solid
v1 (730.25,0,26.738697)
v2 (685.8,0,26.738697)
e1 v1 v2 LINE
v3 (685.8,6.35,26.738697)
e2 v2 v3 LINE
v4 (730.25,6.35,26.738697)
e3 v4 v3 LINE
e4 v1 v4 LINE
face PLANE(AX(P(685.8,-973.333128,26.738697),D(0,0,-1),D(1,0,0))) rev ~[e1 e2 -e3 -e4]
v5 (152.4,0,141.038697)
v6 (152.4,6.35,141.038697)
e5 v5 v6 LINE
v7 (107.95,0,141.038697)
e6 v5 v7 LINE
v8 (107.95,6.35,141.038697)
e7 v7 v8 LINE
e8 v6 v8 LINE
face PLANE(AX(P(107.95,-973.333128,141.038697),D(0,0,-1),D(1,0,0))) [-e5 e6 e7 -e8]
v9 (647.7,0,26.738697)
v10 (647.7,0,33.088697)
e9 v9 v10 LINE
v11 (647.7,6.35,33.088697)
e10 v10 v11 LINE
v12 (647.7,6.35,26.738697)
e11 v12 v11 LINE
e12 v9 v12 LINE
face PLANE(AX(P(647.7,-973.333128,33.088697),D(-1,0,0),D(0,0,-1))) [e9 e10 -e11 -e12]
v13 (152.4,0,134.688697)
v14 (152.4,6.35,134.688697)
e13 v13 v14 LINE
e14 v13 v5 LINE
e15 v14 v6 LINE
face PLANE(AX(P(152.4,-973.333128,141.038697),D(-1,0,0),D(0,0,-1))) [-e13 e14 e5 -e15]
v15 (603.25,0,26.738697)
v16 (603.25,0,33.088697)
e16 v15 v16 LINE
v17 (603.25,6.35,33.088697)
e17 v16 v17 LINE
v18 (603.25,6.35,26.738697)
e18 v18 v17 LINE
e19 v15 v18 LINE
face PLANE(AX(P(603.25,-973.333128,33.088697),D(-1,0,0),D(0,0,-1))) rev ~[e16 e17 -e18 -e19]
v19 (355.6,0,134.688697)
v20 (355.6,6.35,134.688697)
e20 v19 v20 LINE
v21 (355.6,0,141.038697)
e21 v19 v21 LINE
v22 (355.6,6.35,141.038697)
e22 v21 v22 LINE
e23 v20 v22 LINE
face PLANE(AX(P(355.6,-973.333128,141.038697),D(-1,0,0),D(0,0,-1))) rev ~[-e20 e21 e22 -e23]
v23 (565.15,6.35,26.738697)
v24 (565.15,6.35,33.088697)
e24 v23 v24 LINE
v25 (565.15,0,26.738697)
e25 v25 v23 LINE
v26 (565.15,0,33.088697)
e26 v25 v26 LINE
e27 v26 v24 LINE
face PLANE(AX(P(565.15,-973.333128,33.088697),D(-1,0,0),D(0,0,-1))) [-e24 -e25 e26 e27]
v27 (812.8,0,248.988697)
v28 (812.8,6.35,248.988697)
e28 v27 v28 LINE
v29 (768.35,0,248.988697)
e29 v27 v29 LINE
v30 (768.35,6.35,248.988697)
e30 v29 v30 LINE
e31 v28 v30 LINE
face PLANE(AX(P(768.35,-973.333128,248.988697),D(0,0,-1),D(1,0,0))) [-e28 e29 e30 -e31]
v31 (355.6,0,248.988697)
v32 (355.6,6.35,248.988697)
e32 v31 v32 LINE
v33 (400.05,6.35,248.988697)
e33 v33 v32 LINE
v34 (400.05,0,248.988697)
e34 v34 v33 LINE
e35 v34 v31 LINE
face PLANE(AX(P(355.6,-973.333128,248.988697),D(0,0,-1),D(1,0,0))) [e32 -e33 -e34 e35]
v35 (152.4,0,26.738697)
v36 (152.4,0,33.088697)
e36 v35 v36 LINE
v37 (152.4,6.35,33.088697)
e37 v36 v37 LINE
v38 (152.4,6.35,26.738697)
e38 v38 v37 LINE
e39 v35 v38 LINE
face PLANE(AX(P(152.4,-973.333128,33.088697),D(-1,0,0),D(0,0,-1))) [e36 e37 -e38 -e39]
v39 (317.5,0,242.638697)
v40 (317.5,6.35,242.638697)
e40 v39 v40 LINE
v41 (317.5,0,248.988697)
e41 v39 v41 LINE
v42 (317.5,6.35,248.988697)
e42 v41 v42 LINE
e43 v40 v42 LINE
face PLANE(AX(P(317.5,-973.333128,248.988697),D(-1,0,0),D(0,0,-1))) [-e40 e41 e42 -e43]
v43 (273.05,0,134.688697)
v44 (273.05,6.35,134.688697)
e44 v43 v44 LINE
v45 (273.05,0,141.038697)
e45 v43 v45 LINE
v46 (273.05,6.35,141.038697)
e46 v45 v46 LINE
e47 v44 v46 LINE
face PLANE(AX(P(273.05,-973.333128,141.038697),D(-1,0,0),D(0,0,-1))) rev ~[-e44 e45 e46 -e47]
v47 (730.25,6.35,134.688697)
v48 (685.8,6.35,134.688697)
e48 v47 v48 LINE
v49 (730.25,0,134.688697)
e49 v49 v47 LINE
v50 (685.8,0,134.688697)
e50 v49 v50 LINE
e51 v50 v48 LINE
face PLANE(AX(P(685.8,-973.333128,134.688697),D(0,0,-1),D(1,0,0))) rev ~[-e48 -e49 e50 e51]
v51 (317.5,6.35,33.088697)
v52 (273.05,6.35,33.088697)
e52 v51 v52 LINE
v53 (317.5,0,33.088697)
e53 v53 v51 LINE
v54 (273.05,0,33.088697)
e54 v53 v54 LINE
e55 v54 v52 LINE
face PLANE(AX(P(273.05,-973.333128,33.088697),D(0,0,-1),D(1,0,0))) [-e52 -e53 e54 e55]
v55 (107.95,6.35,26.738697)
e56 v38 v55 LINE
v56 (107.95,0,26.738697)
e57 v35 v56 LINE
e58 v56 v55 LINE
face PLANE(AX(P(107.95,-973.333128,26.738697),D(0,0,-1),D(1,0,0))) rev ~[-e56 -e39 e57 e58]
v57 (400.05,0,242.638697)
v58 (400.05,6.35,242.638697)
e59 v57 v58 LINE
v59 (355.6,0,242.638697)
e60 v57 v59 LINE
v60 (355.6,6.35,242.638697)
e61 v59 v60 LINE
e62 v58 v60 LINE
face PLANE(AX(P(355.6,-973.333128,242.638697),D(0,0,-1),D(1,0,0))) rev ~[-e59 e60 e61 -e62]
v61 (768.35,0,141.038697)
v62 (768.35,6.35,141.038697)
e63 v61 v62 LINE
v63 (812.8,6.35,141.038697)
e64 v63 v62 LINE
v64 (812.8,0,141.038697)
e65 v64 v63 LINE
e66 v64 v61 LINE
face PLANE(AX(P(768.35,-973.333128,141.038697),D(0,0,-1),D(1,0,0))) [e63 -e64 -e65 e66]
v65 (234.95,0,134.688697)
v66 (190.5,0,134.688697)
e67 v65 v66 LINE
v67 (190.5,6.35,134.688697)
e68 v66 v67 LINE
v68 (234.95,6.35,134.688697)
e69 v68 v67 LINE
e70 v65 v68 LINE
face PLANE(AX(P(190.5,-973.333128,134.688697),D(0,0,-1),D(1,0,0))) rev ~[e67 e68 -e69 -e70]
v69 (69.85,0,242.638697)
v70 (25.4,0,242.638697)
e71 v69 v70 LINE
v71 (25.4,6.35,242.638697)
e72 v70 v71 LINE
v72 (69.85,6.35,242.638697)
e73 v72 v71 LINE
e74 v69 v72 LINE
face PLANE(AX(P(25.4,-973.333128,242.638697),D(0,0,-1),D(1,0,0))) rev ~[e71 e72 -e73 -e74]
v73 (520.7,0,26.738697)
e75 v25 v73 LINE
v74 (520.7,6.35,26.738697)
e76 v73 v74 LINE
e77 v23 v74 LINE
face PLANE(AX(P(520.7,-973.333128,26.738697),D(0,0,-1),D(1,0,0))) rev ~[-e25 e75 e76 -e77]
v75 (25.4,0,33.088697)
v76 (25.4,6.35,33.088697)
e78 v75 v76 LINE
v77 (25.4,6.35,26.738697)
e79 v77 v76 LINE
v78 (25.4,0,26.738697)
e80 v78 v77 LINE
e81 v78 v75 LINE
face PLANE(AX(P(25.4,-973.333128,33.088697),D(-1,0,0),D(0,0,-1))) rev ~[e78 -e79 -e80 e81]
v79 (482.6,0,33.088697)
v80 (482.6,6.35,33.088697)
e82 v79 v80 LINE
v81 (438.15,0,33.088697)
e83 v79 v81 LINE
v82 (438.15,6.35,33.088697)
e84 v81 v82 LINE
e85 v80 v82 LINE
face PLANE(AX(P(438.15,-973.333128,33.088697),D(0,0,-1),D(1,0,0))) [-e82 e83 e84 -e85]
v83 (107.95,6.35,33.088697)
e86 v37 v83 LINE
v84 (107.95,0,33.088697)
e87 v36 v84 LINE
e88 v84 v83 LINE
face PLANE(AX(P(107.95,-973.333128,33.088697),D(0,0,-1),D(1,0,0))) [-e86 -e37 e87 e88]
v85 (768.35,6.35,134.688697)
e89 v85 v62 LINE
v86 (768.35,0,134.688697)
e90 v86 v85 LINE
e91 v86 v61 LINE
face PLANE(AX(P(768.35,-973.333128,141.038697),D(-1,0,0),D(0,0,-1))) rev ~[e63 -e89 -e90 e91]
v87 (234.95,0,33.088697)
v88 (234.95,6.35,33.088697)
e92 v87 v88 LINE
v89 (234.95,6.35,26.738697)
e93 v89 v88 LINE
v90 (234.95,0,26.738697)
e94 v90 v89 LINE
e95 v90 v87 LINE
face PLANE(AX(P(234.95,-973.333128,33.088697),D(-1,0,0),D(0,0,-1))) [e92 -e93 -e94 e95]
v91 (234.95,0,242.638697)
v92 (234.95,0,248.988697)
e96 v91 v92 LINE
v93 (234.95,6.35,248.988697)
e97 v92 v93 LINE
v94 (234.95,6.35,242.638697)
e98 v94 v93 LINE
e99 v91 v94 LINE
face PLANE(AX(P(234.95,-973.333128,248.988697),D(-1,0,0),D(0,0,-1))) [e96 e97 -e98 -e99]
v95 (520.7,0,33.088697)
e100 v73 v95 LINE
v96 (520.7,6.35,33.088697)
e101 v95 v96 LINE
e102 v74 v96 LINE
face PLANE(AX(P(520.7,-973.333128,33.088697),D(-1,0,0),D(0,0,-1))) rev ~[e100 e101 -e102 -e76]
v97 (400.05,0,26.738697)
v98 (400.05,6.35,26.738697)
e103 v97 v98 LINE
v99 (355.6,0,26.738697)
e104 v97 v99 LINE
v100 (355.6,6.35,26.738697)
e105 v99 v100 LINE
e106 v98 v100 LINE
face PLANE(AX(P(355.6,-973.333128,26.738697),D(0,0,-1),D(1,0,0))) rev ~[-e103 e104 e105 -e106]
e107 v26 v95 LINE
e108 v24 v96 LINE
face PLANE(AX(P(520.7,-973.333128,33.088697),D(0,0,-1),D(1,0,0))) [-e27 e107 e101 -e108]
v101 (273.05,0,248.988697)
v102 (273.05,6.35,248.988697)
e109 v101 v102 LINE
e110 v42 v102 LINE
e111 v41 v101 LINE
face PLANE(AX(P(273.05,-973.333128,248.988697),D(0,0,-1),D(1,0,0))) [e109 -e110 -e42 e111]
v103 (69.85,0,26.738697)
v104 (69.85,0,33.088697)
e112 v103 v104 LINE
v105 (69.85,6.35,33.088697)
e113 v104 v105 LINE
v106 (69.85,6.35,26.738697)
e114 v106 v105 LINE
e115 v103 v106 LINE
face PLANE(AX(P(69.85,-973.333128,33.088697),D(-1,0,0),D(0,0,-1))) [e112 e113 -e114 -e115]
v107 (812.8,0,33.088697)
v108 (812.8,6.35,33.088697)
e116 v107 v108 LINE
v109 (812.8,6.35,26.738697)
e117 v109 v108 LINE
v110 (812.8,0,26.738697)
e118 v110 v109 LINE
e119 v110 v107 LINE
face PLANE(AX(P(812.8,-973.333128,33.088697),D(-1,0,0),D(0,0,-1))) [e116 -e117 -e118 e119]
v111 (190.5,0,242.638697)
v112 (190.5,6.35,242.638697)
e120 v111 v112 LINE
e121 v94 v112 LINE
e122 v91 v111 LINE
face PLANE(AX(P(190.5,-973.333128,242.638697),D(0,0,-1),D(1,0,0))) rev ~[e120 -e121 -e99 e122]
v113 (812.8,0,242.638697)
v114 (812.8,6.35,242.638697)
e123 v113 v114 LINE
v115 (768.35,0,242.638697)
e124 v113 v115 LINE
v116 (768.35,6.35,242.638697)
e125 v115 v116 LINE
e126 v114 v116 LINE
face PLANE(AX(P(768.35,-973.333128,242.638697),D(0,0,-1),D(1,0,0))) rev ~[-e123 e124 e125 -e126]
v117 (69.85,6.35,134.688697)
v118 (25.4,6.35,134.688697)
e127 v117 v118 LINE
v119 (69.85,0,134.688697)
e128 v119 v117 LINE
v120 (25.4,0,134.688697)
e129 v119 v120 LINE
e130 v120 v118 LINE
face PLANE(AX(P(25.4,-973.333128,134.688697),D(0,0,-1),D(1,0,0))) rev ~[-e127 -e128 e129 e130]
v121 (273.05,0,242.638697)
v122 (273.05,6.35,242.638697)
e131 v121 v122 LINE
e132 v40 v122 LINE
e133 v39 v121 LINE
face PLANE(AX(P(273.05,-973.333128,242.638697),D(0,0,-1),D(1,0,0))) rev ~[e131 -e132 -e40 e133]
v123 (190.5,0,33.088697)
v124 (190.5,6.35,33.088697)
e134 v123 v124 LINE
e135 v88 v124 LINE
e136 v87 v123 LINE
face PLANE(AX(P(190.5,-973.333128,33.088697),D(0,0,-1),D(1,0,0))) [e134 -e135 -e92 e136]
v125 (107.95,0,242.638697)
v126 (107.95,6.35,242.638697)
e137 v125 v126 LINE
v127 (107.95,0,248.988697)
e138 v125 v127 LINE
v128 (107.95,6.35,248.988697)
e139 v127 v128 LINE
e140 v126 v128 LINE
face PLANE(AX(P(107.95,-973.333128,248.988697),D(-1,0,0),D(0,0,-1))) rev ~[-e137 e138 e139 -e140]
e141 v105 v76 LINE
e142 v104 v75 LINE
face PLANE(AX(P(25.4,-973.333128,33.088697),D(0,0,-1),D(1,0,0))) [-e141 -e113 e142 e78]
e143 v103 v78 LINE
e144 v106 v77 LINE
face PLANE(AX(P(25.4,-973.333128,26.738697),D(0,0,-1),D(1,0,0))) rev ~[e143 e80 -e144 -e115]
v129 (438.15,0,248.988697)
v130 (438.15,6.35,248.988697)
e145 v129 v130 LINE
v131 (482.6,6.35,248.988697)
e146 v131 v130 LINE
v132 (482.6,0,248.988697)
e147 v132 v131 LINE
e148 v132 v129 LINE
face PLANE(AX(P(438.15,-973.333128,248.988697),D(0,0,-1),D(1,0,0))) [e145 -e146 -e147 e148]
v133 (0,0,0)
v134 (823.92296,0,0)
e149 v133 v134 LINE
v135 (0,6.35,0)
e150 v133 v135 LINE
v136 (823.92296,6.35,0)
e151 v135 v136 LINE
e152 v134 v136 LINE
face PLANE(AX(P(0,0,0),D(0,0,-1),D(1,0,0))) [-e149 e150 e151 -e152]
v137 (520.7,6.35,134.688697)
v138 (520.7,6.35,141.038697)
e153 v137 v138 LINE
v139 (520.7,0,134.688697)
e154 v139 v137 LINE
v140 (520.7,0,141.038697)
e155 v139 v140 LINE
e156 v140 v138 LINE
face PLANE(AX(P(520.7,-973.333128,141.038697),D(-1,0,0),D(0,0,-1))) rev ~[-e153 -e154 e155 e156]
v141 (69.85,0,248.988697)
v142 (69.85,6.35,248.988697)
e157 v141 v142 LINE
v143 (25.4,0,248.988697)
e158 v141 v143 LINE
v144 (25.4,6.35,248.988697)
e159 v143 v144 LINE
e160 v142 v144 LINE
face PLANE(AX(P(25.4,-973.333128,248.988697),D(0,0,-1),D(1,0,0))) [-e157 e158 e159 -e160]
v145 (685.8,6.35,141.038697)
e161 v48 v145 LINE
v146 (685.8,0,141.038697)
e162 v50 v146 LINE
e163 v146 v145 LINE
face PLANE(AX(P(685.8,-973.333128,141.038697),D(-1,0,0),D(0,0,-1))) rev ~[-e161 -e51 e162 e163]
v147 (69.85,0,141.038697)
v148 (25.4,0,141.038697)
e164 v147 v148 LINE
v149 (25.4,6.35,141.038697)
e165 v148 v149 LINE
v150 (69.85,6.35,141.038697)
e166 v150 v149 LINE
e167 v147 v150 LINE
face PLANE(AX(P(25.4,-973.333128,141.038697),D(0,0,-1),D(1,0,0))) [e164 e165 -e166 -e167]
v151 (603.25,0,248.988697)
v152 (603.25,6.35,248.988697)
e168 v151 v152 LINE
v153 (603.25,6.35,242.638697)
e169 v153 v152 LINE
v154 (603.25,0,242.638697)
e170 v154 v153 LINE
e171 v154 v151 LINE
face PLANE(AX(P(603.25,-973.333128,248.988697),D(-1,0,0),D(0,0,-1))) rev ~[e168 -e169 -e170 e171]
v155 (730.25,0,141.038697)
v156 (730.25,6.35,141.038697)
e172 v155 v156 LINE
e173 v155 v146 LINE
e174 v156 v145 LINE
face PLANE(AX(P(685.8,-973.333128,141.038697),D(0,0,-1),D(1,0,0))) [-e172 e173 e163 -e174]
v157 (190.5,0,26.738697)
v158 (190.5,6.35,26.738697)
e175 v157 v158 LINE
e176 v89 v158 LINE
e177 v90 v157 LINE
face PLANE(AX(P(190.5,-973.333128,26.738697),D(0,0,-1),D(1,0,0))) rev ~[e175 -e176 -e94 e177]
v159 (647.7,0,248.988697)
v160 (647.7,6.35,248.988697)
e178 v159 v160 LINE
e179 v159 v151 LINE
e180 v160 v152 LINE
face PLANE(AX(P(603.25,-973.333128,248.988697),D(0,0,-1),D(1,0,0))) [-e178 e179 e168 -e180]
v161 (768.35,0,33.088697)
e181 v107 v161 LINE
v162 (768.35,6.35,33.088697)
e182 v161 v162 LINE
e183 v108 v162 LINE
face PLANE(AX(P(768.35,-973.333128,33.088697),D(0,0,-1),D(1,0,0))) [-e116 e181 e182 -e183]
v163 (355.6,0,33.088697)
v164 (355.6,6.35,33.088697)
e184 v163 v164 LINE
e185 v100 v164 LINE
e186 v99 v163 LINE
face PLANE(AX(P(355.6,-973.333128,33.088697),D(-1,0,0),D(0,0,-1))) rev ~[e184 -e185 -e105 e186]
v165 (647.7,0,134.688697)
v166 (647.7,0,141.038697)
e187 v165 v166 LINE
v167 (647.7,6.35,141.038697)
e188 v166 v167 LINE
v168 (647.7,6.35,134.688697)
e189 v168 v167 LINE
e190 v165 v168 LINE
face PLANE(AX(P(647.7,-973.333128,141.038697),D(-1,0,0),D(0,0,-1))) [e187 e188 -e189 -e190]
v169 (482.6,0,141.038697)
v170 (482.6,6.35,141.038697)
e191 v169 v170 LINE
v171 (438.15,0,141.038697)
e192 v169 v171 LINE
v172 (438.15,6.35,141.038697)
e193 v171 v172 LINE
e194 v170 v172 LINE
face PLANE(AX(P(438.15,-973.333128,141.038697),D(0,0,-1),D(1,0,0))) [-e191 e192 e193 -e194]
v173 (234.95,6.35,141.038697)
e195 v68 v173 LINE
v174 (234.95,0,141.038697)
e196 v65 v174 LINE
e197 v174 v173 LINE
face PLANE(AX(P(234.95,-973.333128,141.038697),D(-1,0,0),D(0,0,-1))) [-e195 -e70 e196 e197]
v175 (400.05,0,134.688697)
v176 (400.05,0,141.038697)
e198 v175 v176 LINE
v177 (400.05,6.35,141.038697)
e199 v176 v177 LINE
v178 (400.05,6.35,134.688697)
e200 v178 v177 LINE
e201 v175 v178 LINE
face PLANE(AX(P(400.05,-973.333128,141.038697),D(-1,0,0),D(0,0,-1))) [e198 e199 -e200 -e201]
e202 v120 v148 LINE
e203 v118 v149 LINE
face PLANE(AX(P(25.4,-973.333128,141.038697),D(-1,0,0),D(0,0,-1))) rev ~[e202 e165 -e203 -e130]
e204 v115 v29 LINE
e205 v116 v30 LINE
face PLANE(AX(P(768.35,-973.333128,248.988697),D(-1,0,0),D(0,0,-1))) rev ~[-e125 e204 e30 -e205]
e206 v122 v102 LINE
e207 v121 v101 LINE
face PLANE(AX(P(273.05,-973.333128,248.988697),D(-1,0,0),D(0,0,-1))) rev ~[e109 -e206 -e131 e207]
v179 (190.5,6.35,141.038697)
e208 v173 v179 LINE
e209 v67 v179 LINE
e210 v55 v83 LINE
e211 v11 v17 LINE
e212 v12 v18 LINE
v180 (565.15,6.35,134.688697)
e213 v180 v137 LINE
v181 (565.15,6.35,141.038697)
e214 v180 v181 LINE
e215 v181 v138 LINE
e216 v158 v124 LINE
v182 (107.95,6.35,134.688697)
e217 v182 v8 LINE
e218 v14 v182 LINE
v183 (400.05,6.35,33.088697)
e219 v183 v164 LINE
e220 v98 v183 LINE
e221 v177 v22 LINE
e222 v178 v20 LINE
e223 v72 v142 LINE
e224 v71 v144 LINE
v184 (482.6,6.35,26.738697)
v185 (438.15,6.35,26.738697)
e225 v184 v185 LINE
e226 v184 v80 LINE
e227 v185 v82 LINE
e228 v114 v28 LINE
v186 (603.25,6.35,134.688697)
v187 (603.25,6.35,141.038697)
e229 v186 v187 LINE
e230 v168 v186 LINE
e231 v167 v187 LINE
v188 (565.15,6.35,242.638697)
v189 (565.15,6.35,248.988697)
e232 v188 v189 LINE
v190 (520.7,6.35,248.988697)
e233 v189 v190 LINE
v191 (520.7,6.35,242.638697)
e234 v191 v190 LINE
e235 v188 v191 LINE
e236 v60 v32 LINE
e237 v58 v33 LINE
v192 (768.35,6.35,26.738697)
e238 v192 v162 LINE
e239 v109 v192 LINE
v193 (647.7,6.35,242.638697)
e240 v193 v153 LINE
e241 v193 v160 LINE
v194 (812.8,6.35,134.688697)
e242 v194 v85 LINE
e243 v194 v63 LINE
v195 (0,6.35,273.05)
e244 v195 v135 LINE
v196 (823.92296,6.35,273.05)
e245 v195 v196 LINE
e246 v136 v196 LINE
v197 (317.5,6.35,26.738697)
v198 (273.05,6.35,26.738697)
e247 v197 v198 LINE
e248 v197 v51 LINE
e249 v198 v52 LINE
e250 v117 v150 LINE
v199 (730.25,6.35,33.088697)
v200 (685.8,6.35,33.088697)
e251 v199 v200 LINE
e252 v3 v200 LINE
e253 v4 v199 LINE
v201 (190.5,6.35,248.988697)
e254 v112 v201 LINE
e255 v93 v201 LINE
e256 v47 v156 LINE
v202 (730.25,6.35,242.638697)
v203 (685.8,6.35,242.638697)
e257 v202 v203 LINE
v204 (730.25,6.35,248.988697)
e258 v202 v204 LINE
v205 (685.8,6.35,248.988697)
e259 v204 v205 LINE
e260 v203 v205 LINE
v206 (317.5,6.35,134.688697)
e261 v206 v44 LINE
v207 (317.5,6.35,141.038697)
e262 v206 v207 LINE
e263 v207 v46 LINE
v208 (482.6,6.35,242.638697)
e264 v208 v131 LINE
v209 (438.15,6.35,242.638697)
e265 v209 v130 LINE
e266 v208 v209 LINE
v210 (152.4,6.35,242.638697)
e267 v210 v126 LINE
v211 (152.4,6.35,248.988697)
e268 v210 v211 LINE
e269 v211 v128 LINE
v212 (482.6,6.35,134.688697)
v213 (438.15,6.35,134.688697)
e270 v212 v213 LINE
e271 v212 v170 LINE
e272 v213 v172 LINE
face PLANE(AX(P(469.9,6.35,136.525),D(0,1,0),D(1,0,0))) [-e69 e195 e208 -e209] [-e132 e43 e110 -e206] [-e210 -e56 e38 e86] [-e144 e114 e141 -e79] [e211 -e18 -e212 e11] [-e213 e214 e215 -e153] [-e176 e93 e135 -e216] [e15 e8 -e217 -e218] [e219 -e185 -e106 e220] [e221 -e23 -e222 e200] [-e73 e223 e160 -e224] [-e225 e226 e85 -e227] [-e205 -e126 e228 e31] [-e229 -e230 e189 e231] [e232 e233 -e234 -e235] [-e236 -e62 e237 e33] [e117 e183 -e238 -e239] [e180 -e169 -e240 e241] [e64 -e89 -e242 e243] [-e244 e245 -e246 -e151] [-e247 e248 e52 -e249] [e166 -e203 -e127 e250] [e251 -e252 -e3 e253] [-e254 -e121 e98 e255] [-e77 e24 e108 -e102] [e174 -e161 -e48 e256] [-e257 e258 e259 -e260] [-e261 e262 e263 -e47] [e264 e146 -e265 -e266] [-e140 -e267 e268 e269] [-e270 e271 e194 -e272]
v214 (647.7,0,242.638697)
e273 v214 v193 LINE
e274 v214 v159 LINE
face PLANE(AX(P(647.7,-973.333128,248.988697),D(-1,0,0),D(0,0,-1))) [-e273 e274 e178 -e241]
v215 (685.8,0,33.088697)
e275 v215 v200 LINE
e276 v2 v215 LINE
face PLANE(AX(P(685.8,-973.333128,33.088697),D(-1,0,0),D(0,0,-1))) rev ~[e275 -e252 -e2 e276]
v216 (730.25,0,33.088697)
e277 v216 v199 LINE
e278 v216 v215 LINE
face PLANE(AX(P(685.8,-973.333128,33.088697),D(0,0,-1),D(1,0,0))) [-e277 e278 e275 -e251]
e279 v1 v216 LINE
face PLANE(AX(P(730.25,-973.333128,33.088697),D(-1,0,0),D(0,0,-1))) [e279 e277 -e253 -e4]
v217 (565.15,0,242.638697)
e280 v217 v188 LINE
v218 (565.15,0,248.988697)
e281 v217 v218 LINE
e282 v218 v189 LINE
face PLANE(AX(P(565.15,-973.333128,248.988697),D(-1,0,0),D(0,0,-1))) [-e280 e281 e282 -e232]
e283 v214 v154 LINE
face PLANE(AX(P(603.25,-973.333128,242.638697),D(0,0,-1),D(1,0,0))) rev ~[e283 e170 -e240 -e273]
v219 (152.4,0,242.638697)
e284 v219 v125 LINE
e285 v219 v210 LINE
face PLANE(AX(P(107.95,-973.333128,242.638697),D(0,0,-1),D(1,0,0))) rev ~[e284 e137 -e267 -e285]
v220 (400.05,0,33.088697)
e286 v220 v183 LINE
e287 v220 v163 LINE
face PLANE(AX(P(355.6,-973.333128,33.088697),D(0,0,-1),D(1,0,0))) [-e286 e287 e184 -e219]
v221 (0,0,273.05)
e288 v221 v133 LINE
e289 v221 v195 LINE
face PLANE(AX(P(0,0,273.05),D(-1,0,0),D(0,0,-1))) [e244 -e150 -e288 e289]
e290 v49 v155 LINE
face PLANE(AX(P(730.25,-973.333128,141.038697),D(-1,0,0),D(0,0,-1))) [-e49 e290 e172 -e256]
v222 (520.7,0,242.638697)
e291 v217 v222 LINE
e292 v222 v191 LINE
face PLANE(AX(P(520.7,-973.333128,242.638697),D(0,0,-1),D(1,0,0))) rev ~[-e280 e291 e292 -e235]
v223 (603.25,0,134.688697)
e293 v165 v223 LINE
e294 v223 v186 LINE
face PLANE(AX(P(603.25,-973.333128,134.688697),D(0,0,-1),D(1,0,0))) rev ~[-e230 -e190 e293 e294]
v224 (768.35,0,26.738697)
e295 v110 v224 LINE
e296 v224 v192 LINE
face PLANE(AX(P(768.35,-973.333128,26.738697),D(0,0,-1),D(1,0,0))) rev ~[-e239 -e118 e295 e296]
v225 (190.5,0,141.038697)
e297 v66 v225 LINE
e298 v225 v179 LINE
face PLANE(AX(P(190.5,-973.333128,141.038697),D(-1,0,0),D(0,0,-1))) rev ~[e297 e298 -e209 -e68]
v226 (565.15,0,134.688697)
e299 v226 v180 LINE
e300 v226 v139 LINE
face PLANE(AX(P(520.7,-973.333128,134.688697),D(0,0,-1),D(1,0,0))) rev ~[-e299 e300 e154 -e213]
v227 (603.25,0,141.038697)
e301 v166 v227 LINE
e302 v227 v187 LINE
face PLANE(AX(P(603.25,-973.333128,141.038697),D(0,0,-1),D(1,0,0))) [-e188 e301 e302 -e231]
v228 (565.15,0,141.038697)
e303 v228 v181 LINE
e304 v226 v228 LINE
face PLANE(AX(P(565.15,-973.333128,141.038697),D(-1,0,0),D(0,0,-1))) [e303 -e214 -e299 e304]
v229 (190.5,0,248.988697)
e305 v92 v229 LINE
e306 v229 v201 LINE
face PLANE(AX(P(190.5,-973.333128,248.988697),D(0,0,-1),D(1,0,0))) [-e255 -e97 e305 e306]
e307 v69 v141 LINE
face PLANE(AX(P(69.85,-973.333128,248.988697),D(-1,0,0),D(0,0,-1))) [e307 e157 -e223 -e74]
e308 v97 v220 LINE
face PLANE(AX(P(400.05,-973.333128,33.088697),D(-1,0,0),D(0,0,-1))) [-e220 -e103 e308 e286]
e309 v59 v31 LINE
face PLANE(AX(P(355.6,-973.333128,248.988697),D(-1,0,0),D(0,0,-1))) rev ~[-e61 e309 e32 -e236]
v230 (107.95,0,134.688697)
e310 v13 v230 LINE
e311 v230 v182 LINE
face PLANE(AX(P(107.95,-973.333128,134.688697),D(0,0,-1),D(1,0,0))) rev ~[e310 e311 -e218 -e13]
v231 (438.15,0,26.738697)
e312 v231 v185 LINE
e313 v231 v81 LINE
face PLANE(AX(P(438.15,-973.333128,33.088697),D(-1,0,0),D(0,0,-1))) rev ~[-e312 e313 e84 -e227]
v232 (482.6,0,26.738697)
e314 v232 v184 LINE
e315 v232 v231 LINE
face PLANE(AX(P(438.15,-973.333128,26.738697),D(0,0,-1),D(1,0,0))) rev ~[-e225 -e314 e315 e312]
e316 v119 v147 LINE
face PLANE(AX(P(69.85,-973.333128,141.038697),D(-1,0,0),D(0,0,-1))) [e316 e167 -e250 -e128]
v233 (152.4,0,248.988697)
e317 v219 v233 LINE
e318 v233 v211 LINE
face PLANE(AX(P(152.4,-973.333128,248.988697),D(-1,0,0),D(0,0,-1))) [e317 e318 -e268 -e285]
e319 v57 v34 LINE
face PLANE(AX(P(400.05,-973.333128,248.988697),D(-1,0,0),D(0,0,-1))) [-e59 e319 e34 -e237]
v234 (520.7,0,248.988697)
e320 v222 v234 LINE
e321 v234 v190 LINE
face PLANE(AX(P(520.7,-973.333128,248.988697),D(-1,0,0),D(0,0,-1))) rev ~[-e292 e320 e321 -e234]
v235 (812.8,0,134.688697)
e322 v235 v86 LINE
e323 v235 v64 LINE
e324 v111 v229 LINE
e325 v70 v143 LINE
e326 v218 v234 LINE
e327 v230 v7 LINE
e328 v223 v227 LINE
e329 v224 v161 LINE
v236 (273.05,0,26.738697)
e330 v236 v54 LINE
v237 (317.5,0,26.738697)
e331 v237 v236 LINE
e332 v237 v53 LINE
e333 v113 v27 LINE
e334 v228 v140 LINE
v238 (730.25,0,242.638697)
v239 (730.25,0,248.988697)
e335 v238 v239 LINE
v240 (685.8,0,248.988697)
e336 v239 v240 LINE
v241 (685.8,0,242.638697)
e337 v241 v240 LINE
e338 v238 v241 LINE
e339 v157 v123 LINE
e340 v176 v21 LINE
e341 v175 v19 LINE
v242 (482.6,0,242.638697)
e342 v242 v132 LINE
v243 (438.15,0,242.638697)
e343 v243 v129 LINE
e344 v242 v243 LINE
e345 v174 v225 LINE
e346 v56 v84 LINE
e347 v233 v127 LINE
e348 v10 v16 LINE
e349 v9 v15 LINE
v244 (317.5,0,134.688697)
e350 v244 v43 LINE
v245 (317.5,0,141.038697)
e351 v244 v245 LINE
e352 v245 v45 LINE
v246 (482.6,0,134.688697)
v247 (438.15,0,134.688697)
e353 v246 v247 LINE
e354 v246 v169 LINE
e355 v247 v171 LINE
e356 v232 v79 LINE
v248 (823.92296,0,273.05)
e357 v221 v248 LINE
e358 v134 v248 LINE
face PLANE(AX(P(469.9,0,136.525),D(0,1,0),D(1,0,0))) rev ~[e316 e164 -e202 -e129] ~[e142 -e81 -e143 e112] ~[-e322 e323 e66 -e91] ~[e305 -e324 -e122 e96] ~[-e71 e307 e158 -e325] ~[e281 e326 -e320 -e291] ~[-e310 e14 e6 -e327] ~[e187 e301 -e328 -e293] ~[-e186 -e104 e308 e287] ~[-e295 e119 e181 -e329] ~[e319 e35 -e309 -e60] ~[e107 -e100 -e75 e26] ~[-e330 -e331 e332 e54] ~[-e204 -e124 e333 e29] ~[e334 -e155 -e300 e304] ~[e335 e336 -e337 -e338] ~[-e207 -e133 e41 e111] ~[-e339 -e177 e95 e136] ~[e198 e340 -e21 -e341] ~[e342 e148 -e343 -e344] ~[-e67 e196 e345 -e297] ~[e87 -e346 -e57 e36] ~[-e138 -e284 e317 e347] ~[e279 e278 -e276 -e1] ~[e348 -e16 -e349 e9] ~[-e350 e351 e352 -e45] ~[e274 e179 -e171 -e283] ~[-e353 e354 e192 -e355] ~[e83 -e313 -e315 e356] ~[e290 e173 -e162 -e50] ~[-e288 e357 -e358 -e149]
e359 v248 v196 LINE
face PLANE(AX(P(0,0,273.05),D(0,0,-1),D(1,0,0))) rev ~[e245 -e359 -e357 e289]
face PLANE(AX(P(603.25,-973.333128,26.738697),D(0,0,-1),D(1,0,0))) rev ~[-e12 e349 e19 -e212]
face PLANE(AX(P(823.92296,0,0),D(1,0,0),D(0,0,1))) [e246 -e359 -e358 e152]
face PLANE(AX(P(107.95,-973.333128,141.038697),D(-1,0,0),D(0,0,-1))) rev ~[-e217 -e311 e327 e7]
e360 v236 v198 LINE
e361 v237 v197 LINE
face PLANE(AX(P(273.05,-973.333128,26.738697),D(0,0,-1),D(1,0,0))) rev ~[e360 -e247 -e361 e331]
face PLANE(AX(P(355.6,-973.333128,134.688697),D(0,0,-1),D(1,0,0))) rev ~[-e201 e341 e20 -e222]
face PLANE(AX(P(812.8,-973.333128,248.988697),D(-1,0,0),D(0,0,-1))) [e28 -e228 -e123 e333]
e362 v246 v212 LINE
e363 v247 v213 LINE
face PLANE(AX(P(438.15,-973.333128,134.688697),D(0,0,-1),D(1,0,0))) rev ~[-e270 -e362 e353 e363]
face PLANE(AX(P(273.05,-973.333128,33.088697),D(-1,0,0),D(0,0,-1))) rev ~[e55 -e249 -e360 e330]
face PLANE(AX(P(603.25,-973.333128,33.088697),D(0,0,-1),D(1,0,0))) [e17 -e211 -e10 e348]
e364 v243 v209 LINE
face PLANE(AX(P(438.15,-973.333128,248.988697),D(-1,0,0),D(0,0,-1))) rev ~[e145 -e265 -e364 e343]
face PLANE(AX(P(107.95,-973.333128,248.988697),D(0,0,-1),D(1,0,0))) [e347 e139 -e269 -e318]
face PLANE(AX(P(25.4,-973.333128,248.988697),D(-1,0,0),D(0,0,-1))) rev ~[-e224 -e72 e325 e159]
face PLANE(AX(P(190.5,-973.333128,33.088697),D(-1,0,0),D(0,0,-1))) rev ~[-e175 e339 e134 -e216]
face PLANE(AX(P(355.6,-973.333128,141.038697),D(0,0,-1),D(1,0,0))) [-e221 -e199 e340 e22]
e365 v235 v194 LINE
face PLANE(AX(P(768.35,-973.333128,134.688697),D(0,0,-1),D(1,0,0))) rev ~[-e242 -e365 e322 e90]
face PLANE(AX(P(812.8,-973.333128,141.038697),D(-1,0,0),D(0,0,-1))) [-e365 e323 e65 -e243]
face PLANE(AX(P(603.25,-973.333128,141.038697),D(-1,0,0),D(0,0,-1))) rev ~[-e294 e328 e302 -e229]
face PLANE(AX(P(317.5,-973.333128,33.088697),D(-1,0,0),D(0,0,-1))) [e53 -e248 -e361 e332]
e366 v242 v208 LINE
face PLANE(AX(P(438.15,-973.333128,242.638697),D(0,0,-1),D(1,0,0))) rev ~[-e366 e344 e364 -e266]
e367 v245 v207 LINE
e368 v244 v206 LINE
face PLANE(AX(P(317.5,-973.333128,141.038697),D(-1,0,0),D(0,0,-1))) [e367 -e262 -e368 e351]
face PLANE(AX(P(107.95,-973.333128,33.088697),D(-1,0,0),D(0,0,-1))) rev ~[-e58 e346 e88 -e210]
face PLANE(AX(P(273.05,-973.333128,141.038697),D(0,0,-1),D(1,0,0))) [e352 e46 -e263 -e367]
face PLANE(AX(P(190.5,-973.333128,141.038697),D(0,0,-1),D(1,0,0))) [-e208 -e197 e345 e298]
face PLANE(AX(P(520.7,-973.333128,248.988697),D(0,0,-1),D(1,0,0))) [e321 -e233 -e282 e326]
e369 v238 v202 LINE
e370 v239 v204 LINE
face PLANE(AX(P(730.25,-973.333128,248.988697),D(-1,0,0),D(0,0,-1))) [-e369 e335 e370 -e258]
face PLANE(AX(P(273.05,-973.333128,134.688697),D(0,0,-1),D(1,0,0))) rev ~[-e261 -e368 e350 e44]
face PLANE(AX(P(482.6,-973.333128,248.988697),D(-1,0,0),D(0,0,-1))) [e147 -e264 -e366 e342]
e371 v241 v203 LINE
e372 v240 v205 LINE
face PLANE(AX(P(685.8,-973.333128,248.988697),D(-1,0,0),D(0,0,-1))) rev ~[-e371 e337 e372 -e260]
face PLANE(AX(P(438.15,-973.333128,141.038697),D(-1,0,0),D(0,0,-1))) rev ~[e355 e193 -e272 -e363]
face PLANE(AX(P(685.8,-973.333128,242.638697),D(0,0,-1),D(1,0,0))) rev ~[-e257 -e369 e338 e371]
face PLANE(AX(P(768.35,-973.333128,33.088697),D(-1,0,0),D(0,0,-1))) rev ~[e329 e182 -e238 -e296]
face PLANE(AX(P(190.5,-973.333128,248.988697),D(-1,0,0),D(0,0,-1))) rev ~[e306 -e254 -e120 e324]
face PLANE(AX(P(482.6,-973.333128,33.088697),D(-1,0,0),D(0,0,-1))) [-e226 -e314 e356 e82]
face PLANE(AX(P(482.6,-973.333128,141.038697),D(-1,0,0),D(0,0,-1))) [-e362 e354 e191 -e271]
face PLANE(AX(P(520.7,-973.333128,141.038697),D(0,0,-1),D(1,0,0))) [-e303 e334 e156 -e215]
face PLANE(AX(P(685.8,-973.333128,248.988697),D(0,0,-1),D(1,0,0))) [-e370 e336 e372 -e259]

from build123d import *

# Parameters (mm, degrees)
SKETCH1_W               = 939.8
SKETCH1_H               = 273.05
BOSS_EXTRUDE1_DEPTH     = 6.35
CUT_EXTRUDE1_DEPTH      = 979.683127984
CUT_EXTRUDE1_DEPTH_BACK = 979.683127984
SKETCH2_W               = 44.45
SKETCH2_H               = 6.35
SKETCH2_W_2             = 88.9
SKETCH3_W               = 115.877039993
SKETCH3_H               = 273.05
CUT_EXTRUDE2_DEPTH      = 6.35


with BuildPart() as part:
    # Sketch1 → Boss-Extrude1 (new body)
    with BuildSketch(Plane(origin=(0, 0, 0), x_dir=(1, 0, 0), z_dir=(0, 1, 0))):
        with Locations((469.9, -136.525)):
            Rectangle(SKETCH1_W, SKETCH1_H)
    extrude(amount=BOSS_EXTRUDE1_DEPTH)

    # Sketch2 → Cut-Extrude1 (cut, two sides: drawn at the far end of the back side and taken through both)
    with BuildSketch(Plane(origin=(0, 6.35, 0), x_dir=(1, 0, 0), z_dir=(0, 1, 0)).offset(-CUT_EXTRUDE1_DEPTH_BACK)):
        with Locations((47.625, -29.913697199)):
            Rectangle(SKETCH2_W, SKETCH2_H)
        with Locations((130.175, -29.913697199)):
            Rectangle(SKETCH2_W, SKETCH2_H)
        with Locations((212.725, -29.913697199)):
            Rectangle(SKETCH2_W, SKETCH2_H)
        with Locations((295.275, -29.913697199)):
            Rectangle(SKETCH2_W, SKETCH2_H)
        with Locations((377.825, -29.913697199)):
            Rectangle(SKETCH2_W, SKETCH2_H)
        with Locations((460.375, -29.913697199)):
            Rectangle(SKETCH2_W, SKETCH2_H)
        with Locations((542.925, -29.913697199)):
            Rectangle(SKETCH2_W, SKETCH2_H)
        with Locations((625.475, -29.913697199)):
            Rectangle(SKETCH2_W, SKETCH2_H)
        with Locations((708.025, -29.913697199)):
            Rectangle(SKETCH2_W, SKETCH2_H)
        with Locations((790.575, -29.913697199)):
            Rectangle(SKETCH2_W, SKETCH2_H)
        with Locations((130.175, -137.863697199)):
            Rectangle(SKETCH2_W, SKETCH2_H)
        with Locations((212.725, -137.863697199)):
            Rectangle(SKETCH2_W, SKETCH2_H)
        with Locations((295.275, -137.863697199)):
            Rectangle(SKETCH2_W, SKETCH2_H)
        with Locations((377.825, -137.863697199)):
            Rectangle(SKETCH2_W, SKETCH2_H)
        with Locations((460.375, -137.863697199)):
            Rectangle(SKETCH2_W, SKETCH2_H)
        with Locations((542.925, -137.863697199)):
            Rectangle(SKETCH2_W, SKETCH2_H)
        with Locations((625.475, -137.863697199)):
            Rectangle(SKETCH2_W, SKETCH2_H)
        with Locations((708.025, -137.863697199)):
            Rectangle(SKETCH2_W, SKETCH2_H)
        with Locations((790.575, -137.863697199)):
            Rectangle(SKETCH2_W, SKETCH2_H)
        with Locations((130.175, -245.813697199)):
            Rectangle(SKETCH2_W, SKETCH2_H)
        with Locations((212.725, -245.813697199)):
            Rectangle(SKETCH2_W, SKETCH2_H)
        with Locations((295.275, -245.813697199)):
            Rectangle(SKETCH2_W, SKETCH2_H)
        with Locations((377.825, -245.813697199)):
            Rectangle(SKETCH2_W, SKETCH2_H)
        with Locations((460.375, -245.813697199)):
            Rectangle(SKETCH2_W, SKETCH2_H)
        with Locations((542.925, -245.813697199)):
            Rectangle(SKETCH2_W, SKETCH2_H)
        with Locations((625.475, -245.813697199)):
            Rectangle(SKETCH2_W, SKETCH2_H)
        with Locations((708.025, -245.813697199)):
            Rectangle(SKETCH2_W, SKETCH2_H)
        with Locations((790.575, -245.813697199)):
            Rectangle(SKETCH2_W, SKETCH2_H)
        with Locations((47.625, -137.863697199)):
            Rectangle(SKETCH2_W, SKETCH2_H)
        with Locations((47.625, -245.813697199)):
            Rectangle(SKETCH2_W, SKETCH2_H)
        with Locations((895.35, -137.863697199)):
            Rectangle(SKETCH2_W_2, SKETCH2_H)
        with Locations((895.35, -29.913697199)):
            Rectangle(SKETCH2_W_2, SKETCH2_H)
        with Locations((895.35, -245.813697199)):
            Rectangle(SKETCH2_W_2, SKETCH2_H)
    extrude(amount=CUT_EXTRUDE1_DEPTH + CUT_EXTRUDE1_DEPTH_BACK, mode=Mode.SUBTRACT)

    # Sketch3 → Cut-Extrude2 (cut)
    with BuildSketch(Plane.XZ):
        with Locations((881.861480003, 136.525)):
            Rectangle(SKETCH3_W, SKETCH3_H)
    extrude(amount=-CUT_EXTRUDE2_DEPTH, mode=Mode.SUBTRACT)


solid = part.part
